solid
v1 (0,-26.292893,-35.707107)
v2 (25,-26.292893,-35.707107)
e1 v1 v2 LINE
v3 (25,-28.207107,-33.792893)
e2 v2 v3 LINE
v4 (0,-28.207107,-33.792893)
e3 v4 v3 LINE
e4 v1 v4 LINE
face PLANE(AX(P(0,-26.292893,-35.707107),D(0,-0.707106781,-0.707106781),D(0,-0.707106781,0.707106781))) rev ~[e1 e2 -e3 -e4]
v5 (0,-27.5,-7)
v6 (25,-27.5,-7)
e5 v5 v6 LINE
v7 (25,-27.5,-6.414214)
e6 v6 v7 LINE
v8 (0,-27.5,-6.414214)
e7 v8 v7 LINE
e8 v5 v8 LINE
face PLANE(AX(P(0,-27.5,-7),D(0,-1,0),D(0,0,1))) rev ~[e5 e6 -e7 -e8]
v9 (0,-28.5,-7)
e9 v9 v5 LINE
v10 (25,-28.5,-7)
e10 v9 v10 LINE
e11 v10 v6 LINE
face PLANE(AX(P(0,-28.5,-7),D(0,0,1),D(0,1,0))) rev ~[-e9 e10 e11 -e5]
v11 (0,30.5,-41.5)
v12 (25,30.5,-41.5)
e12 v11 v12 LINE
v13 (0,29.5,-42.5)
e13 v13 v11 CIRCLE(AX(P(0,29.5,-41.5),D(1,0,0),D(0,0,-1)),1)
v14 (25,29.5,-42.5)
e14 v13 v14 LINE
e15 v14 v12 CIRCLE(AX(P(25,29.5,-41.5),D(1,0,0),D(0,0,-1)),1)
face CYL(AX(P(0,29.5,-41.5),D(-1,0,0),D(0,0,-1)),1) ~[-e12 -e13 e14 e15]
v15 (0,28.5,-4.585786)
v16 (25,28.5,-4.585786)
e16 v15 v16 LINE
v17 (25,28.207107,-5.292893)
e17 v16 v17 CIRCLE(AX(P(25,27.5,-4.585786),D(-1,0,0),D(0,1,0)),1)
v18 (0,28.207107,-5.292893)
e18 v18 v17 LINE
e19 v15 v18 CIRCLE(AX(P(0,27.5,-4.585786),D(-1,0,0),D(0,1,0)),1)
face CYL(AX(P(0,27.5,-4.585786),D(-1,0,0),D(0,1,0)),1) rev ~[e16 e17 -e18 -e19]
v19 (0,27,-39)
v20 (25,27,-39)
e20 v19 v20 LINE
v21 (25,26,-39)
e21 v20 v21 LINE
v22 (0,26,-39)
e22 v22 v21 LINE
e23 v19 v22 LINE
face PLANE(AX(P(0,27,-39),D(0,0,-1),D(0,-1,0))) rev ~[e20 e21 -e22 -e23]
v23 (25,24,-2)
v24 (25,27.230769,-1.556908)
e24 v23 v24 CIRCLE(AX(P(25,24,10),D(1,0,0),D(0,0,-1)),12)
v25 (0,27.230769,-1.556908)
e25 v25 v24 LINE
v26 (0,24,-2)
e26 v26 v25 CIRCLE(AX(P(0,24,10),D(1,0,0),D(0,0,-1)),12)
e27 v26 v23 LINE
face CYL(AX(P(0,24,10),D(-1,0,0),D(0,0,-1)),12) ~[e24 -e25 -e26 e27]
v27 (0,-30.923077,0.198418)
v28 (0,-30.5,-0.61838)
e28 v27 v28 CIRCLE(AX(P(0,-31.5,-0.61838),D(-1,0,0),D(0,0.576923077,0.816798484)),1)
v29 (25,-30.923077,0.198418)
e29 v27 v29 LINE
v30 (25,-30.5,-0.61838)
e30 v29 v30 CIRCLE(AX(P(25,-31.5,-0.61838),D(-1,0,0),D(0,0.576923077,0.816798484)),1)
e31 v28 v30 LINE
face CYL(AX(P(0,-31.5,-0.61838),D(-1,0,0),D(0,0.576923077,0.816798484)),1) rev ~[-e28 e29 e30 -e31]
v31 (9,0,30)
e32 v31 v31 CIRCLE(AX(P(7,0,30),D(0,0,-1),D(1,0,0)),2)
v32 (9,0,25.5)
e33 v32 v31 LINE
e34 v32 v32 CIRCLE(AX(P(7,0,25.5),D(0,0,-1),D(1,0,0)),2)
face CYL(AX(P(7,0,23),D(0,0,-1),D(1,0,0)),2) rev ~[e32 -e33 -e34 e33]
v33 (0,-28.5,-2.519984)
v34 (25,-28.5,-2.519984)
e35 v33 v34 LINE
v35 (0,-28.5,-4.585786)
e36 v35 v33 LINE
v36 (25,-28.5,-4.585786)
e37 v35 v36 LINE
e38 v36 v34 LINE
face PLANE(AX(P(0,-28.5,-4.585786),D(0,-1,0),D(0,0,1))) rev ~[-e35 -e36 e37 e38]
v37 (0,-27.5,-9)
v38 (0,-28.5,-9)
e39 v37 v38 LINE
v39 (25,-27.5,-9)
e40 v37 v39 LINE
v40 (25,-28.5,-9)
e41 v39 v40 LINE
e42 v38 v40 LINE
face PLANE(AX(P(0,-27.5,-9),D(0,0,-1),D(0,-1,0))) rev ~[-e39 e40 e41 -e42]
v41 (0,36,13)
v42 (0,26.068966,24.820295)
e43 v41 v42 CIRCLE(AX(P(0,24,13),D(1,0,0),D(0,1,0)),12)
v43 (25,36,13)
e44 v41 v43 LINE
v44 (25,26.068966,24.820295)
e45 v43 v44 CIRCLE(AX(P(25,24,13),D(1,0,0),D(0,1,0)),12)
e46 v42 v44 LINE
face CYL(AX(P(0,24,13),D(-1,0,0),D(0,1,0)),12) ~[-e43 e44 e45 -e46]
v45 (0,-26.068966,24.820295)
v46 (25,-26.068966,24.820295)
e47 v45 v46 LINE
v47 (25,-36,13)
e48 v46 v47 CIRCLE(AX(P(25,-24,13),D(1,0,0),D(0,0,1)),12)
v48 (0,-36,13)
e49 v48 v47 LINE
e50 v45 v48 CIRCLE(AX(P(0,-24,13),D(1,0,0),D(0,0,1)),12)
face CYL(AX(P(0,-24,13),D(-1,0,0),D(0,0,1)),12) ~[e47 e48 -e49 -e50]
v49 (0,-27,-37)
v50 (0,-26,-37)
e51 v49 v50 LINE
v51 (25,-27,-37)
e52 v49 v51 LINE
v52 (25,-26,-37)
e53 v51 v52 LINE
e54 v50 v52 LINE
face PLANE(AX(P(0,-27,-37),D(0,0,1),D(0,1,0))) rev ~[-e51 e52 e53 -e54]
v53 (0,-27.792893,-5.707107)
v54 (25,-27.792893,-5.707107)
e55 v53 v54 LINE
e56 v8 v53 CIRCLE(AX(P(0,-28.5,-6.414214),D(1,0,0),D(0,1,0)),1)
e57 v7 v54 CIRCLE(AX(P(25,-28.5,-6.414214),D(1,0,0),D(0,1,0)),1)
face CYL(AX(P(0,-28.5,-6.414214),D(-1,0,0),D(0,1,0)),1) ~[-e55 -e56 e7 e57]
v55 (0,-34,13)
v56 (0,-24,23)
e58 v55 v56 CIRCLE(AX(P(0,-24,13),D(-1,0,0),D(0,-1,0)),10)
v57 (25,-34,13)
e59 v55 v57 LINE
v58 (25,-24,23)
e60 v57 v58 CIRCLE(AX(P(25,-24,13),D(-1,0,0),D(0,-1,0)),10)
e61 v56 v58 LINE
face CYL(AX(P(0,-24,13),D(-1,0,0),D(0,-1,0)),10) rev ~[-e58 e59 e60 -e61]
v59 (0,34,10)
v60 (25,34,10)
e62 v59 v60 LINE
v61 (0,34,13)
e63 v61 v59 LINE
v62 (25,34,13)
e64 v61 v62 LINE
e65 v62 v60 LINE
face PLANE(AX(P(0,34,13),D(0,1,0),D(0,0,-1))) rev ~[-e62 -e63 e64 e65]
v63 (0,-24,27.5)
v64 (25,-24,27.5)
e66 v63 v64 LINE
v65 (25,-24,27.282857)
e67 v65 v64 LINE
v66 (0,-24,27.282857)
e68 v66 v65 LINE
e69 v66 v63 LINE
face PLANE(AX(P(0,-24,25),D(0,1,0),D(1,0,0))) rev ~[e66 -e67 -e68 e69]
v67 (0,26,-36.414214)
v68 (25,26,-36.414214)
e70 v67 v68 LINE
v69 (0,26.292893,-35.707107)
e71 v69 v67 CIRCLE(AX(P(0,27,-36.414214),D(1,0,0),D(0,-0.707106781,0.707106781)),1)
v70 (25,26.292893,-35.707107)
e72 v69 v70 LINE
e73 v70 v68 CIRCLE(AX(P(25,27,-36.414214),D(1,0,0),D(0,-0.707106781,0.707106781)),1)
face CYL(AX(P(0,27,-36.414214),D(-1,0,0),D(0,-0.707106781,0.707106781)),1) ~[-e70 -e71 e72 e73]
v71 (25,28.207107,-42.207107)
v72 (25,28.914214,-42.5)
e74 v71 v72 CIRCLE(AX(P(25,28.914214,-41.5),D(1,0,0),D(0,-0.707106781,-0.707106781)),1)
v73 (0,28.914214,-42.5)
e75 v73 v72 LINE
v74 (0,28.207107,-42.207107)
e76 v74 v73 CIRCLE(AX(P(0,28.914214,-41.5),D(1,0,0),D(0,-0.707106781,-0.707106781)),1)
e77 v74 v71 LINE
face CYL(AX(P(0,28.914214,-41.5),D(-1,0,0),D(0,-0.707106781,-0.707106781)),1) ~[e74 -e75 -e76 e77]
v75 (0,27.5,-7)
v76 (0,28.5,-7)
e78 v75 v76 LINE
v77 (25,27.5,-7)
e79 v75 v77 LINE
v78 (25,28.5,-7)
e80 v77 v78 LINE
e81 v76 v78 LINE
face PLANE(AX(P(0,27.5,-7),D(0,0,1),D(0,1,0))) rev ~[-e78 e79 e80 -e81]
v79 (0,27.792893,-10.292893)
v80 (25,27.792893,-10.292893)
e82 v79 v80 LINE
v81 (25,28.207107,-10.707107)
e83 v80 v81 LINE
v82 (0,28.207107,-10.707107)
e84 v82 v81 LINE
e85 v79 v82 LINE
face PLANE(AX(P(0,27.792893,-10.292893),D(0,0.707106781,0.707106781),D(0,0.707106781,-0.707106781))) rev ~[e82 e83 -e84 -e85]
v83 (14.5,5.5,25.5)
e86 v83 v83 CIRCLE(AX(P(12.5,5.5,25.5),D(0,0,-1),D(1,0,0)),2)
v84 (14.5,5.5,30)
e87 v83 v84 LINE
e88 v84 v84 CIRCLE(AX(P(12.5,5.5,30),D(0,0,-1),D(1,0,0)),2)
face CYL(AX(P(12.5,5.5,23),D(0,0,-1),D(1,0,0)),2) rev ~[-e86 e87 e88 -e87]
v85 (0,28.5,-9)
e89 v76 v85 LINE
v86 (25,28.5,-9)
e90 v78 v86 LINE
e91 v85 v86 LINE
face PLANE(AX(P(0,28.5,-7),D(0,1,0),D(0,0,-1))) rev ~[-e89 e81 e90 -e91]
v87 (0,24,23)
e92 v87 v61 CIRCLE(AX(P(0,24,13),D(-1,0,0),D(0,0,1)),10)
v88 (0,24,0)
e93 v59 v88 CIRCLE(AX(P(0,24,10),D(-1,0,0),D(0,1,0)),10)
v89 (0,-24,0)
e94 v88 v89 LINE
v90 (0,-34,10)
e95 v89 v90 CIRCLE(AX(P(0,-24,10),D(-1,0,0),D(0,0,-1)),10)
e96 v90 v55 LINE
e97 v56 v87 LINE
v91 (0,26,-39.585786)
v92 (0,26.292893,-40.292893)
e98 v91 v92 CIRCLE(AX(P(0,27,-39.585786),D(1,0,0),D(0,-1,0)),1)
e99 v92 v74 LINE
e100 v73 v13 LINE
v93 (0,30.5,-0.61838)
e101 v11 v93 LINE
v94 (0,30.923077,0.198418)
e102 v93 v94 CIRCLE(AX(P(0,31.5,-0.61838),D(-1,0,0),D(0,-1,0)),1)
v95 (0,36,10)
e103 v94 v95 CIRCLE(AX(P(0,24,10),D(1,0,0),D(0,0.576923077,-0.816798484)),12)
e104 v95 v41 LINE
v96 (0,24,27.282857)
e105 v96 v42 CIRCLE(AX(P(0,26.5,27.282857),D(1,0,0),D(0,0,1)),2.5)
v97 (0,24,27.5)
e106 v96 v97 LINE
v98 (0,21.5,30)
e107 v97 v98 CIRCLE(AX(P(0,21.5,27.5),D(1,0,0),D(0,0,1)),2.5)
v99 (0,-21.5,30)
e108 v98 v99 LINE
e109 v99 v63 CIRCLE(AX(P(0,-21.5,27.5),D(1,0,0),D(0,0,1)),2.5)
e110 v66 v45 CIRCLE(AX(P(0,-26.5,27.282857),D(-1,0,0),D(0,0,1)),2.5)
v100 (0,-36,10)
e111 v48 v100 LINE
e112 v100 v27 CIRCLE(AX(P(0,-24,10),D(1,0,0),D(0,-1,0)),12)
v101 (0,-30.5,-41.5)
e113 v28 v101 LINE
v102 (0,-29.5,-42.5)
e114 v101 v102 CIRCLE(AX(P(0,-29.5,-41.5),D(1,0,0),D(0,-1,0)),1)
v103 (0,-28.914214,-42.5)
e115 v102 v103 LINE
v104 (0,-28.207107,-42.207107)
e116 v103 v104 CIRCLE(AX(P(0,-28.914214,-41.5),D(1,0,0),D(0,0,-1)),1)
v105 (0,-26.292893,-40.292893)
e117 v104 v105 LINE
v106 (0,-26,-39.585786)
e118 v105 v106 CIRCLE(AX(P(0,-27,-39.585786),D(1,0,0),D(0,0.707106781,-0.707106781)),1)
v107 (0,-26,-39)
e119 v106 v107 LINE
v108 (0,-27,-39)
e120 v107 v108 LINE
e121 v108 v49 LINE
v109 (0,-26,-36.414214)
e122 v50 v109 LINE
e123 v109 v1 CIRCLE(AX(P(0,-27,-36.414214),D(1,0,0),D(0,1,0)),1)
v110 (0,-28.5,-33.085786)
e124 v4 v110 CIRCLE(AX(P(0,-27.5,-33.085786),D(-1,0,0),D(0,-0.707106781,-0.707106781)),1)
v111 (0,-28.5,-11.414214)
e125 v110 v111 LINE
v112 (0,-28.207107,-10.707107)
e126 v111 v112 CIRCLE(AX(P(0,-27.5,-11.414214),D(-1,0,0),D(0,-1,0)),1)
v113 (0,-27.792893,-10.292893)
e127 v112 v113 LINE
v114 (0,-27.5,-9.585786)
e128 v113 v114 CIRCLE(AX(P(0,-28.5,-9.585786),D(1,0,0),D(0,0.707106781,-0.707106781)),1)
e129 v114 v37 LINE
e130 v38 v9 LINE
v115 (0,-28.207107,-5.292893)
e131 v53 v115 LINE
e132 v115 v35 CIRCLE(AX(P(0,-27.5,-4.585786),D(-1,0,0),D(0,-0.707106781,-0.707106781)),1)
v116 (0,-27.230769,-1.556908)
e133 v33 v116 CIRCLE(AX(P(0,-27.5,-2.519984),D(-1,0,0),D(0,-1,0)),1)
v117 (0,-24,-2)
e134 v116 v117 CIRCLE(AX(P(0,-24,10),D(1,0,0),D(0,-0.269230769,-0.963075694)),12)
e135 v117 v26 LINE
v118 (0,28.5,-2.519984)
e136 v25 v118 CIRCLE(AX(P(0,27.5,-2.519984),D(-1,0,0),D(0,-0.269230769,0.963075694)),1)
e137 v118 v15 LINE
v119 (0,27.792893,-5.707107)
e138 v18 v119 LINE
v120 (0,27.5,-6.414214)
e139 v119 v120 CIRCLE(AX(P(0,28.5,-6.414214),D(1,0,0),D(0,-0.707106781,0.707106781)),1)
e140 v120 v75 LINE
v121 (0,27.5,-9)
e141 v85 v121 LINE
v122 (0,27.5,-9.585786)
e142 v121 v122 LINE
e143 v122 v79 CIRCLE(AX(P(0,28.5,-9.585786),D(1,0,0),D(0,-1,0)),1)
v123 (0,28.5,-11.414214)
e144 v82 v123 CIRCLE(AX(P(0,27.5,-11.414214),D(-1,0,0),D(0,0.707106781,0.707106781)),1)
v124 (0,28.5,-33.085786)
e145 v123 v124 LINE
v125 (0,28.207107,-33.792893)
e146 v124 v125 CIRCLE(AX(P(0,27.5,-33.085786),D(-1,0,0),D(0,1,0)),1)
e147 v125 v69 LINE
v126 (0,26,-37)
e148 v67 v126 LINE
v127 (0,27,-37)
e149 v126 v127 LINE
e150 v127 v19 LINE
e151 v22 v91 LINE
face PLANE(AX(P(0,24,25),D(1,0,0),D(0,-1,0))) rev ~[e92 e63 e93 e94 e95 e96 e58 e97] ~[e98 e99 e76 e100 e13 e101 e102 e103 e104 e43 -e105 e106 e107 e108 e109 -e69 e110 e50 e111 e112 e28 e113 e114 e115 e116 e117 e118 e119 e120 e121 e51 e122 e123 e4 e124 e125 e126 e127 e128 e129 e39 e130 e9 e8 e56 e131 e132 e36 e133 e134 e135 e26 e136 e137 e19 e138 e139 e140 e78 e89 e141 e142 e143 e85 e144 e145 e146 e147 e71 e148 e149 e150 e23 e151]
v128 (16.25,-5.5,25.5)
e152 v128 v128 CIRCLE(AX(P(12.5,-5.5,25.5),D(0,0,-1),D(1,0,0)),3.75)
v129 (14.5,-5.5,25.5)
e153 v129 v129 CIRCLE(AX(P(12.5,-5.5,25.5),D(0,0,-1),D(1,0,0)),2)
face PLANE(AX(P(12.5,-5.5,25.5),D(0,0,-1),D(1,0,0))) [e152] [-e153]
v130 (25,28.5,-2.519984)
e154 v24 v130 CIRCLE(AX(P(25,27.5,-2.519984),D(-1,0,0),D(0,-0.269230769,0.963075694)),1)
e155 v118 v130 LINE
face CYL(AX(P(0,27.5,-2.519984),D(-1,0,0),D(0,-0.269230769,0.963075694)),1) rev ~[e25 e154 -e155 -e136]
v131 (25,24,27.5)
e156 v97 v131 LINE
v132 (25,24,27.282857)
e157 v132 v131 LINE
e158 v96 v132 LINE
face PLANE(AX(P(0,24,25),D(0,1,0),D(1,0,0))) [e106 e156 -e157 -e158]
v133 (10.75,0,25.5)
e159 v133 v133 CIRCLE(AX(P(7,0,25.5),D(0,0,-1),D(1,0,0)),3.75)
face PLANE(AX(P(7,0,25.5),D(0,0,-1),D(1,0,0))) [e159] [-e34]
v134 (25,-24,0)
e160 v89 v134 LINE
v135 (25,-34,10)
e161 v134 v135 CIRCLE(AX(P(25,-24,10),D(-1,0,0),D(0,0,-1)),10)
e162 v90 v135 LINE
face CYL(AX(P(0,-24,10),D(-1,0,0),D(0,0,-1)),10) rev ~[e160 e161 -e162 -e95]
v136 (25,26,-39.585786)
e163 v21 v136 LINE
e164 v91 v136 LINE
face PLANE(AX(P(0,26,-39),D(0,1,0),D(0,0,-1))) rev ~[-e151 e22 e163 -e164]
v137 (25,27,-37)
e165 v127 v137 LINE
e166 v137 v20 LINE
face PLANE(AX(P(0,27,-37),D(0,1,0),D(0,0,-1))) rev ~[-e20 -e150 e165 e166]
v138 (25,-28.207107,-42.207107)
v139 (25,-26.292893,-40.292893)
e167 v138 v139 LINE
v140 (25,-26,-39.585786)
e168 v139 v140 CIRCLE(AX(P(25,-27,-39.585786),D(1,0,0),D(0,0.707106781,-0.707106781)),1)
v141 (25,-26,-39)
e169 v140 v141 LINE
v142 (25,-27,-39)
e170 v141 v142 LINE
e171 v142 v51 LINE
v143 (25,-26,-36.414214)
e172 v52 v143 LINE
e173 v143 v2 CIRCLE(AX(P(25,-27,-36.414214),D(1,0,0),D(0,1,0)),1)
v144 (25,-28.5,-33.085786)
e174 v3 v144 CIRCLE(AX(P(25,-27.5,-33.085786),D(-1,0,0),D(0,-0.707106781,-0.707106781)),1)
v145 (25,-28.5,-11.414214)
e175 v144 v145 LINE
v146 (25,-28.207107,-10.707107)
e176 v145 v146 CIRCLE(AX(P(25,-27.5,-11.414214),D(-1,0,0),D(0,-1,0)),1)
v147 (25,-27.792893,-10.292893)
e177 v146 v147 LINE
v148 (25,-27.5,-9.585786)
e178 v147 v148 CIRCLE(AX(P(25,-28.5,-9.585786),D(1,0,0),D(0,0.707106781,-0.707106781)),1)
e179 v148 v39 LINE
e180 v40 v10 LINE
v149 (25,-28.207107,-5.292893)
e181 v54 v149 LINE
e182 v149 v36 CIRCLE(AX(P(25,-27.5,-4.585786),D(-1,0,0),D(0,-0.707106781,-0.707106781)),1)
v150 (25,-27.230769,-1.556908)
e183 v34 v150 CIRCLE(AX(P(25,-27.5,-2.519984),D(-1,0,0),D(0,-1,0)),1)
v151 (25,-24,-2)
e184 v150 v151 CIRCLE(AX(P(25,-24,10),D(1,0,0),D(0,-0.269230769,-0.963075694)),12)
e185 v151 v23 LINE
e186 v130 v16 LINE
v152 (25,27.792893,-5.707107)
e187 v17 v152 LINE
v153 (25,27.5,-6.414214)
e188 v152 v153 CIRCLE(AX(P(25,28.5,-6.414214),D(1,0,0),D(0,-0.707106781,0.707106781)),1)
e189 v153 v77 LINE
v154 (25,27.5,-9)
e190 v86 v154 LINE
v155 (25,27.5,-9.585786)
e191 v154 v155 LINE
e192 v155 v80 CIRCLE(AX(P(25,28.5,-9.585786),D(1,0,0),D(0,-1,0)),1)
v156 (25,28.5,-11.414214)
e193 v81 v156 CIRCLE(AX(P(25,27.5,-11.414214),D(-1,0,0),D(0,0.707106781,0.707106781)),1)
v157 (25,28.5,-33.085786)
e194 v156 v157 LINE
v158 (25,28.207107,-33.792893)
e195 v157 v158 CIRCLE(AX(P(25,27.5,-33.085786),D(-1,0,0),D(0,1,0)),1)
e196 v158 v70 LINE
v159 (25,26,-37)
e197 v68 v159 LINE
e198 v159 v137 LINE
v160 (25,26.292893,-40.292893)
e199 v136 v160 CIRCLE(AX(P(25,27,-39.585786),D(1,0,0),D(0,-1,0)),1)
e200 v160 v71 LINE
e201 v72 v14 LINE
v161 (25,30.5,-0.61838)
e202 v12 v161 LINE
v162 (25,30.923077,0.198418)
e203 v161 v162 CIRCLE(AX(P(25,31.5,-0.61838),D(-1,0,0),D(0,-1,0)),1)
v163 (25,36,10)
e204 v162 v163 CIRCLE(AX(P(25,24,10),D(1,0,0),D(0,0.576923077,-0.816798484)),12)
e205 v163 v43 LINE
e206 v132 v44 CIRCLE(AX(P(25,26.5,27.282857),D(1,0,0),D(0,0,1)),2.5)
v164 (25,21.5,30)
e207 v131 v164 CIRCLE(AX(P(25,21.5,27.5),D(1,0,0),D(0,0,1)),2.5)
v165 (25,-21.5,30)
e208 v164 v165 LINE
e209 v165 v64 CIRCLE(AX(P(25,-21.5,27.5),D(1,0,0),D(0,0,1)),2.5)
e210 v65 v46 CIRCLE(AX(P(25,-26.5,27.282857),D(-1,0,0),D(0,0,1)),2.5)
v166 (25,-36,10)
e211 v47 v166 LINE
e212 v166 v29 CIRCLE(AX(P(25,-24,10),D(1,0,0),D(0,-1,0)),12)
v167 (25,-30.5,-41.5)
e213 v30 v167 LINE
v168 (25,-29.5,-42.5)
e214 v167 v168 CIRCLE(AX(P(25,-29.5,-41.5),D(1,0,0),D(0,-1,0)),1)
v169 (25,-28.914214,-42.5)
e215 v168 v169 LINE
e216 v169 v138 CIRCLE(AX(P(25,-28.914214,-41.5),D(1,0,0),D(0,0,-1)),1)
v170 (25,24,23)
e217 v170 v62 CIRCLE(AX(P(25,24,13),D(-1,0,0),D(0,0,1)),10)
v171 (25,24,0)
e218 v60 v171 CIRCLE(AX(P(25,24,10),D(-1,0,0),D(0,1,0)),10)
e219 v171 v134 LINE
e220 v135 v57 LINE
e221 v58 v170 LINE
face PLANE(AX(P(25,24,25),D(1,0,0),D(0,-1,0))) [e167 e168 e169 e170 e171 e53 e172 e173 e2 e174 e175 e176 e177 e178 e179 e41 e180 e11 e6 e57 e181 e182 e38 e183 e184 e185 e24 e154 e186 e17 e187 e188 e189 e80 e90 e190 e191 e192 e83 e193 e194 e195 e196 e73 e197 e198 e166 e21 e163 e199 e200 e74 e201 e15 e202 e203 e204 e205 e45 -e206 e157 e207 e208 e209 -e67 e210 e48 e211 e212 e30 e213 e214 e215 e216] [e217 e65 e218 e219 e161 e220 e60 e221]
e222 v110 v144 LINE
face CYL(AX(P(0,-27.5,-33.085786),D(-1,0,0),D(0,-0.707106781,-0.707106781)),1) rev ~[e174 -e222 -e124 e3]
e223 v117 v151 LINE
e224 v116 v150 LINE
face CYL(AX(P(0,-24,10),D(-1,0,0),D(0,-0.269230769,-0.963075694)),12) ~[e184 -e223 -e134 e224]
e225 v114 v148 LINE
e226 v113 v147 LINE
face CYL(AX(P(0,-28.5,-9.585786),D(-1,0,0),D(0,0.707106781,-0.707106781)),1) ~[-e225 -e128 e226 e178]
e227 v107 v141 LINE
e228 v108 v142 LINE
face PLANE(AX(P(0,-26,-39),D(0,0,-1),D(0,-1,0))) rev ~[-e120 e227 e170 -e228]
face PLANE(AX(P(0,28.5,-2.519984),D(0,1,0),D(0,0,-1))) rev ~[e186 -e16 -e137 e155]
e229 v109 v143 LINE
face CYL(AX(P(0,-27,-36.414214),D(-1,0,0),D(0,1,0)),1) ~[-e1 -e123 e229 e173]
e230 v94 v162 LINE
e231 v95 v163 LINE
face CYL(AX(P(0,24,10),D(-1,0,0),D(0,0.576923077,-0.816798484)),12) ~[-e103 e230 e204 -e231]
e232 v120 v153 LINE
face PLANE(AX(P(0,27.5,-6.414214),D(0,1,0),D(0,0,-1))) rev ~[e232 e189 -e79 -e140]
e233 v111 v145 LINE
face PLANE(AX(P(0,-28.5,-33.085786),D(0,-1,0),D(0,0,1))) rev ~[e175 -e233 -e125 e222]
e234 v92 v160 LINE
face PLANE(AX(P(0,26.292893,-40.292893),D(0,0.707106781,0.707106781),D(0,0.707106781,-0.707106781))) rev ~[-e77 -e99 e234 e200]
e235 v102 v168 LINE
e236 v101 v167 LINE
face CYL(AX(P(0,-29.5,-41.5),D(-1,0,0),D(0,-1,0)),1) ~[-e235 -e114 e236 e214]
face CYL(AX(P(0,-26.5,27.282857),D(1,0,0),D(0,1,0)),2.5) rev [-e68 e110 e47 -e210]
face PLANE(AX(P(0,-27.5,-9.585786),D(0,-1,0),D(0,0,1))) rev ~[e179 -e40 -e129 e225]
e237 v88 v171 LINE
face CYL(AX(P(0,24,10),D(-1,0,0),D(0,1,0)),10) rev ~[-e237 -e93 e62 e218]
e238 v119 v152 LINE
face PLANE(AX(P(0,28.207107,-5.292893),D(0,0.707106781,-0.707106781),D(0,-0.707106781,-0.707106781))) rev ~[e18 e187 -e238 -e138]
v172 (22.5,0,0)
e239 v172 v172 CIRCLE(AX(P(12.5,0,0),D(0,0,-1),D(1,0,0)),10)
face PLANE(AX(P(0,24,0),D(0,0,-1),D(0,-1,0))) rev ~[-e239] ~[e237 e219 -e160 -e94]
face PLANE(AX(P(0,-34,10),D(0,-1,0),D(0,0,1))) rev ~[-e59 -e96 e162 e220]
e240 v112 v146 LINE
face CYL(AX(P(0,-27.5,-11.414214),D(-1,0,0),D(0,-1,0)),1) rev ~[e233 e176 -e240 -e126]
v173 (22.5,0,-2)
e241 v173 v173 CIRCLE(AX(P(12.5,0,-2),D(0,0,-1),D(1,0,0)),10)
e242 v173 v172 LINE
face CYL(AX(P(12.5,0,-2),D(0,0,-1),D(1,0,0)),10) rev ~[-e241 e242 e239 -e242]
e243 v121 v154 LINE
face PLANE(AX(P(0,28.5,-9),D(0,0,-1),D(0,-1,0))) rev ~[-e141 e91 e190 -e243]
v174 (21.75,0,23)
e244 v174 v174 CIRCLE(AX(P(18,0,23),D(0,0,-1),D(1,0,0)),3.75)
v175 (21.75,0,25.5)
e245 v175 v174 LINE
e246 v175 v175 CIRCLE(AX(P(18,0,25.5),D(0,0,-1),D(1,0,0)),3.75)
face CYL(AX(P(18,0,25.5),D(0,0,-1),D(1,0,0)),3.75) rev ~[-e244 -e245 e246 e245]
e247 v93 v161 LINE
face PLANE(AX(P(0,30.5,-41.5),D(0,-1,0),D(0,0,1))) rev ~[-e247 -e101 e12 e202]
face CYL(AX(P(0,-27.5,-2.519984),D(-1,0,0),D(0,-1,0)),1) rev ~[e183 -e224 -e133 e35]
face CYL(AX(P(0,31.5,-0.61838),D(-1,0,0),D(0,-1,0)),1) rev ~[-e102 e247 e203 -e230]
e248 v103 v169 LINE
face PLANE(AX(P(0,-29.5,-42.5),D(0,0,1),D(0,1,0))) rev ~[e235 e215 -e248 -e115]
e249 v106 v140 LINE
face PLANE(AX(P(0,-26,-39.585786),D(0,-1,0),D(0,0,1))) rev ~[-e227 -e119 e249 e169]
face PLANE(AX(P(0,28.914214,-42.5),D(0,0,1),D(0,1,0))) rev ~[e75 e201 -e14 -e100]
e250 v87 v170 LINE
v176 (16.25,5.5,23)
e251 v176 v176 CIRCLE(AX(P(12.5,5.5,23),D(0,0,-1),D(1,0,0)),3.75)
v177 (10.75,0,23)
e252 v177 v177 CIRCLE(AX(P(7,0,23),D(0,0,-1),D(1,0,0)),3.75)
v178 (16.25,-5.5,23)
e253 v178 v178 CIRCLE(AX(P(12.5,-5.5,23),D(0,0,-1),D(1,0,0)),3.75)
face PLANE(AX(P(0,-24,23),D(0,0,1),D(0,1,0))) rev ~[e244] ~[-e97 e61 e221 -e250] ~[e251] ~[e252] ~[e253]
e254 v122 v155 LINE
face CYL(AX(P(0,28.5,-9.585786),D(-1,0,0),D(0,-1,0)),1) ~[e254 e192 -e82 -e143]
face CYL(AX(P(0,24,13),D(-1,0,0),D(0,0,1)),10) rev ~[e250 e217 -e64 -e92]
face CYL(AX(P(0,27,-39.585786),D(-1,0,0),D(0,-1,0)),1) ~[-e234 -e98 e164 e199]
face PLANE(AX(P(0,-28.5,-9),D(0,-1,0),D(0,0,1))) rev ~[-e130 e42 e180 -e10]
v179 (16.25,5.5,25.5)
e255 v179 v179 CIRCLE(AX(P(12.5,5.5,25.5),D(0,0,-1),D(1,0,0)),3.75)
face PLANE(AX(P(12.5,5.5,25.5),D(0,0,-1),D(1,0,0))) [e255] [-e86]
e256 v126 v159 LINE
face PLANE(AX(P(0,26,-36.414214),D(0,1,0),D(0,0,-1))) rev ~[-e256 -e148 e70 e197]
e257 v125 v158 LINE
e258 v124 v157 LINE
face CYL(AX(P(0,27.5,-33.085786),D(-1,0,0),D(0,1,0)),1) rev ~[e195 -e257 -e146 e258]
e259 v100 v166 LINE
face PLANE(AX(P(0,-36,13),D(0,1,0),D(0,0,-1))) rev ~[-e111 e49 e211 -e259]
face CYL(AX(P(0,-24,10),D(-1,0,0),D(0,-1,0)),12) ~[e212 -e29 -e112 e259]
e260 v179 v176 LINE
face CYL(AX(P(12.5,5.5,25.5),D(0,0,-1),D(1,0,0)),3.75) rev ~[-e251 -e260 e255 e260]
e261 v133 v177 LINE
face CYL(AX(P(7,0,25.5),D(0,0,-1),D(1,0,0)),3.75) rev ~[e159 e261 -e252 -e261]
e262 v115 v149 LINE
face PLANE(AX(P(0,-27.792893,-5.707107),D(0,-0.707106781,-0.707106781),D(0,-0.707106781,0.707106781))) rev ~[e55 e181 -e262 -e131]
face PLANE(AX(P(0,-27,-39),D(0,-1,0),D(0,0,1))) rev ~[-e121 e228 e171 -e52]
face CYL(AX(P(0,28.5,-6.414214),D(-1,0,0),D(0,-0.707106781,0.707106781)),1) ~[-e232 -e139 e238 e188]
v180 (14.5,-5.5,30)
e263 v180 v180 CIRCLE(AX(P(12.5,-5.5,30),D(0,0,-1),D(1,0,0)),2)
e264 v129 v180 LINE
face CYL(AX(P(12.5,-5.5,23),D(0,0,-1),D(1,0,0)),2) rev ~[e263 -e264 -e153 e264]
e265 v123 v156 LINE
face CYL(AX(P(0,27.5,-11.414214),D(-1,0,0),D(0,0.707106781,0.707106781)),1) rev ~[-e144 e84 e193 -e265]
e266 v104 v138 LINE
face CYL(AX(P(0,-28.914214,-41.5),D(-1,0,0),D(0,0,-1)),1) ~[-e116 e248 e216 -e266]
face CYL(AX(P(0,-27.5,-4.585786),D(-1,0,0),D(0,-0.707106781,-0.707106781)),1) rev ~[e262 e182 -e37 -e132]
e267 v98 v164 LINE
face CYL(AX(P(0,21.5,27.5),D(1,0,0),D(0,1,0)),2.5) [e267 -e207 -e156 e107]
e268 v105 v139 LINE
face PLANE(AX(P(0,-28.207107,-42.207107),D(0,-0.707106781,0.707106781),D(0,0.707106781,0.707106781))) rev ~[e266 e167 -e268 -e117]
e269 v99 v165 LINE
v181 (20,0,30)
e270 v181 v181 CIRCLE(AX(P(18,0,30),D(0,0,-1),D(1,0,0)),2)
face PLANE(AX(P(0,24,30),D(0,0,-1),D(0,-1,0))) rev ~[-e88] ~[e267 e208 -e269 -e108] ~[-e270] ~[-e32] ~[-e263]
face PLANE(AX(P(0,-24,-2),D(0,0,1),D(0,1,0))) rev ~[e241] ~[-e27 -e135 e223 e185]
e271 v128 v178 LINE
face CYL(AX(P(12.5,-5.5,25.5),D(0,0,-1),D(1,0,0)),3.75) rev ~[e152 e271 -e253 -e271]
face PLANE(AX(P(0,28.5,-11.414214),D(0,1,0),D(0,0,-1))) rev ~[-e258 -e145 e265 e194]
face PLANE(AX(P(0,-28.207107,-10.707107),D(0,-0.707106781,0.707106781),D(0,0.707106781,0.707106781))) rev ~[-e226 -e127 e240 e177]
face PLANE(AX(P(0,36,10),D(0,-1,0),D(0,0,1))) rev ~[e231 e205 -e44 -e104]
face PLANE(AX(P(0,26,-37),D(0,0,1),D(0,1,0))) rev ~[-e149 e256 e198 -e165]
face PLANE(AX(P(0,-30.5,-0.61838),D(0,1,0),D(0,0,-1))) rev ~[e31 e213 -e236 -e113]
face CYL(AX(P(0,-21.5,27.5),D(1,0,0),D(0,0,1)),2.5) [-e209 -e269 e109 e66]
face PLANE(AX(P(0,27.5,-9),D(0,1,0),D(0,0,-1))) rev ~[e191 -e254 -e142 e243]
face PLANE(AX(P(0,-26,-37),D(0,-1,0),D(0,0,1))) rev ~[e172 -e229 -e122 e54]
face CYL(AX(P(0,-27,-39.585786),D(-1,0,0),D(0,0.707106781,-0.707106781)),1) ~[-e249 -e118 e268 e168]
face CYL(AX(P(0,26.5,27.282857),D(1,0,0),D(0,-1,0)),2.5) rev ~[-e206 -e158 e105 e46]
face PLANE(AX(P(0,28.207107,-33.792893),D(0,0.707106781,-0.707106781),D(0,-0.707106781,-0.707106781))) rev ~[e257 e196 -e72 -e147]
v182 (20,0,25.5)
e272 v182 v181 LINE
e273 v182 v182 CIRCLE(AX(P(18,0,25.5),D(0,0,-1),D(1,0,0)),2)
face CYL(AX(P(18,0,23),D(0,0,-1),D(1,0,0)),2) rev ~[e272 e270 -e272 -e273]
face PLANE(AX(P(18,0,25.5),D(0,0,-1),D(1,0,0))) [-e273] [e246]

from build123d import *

# Parameters (mm, degrees)
F1_DEPTH       = 25
F3_DEPTH       = 5
F2_R           = 2
F4_DEPTH       = 7.001
F6_D           = 4
F6_CBORE_D     = 7.5
F6_CBORE_DEPTH = 2.5
F7_R           = 10
F8_DEPTH       = 2
F9_R           = 2.5


with BuildPart() as f1:
    # F0 (on Right) → F1 (new body)
    with BuildSketch(Plane.YZ):
        with BuildLine():
            Line((24, 25), (-24, 25))
            ThreePointArc((-24, 25), (-32.4852813742, 21.4852813742), (-36, 13))
            Line((-36, 13), (-36, 10))
            ThreePointArc((-36, 10), (-34.6554428129, 4.480802734), (-30.9230769231, 0.1984181931))
            ThreePointArc((-30.9230769231, 0.1984181931), (-30.6120464323, -0.1584471853), (-30.5, -0.6183802908))
            Line((-30.5, -0.6183802908), (-30.5, -41.5))
            ThreePointArc((-30.5, -41.5), (-30.2071067812, -42.2071067812), (-29.5, -42.5))
            Line((-29.5, -42.5), (-28.9142135624, -42.5))
            ThreePointArc((-28.9142135624, -42.5), (-28.53153013, -42.4238795325), (-28.2071067812, -42.2071067812))
            Line((-28.2071067812, -42.2071067812), (-26.2928932188, -40.2928932188))
            ThreePointArc((-26.2928932188, -40.2928932188), (-26.0761204675, -39.96846987), (-26, -39.5857864376))
            Line((-26, -39.5857864376), (-26, -39))
            Line((-26, -39), (-27, -39))
            Line((-27, -39), (-27, -37))
            Line((-27, -37), (-26, -37))
            Line((-26, -37), (-26, -36.4142135624))
            ThreePointArc((-26, -36.4142135624), (-26.0761204675, -36.03153013), (-26.2928932188, -35.7071067812))
            Line((-26.2928932188, -35.7071067812), (-28.2071067812, -33.7928932188))
            ThreePointArc((-28.2071067812, -33.7928932188), (-28.4238795325, -33.46846987), (-28.5, -33.0857864376))
            Line((-28.5, -33.0857864376), (-28.5, -11.4142135624))
            ThreePointArc((-28.5, -11.4142135624), (-28.4238795325, -11.03153013), (-28.2071067812, -10.7071067812))
            Line((-28.2071067812, -10.7071067812), (-27.7928932188, -10.2928932188))
            ThreePointArc((-27.7928932188, -10.2928932188), (-27.5761204675, -9.96846987), (-27.5, -9.5857864376))
            Line((-27.5, -9.5857864376), (-27.5, -9))
            Line((-27.5, -9), (-28.5, -9))
            Line((-28.5, -9), (-28.5, -7))
            Line((-28.5, -7), (-27.5, -7))
            Line((-27.5, -7), (-27.5, -6.4142135624))
            ThreePointArc((-27.5, -6.4142135624), (-27.5761204675, -6.03153013), (-27.7928932188, -5.7071067812))
            Line((-27.7928932188, -5.7071067812), (-28.2071067812, -5.2928932188))
            ThreePointArc((-28.2071067812, -5.2928932188), (-28.4238795325, -4.96846987), (-28.5, -4.5857864376))
            Line((-28.5, -4.5857864376), (-28.5, -2.5199840255))
            ThreePointArc((-28.5, -2.5199840255), (-28.1044705248, -1.7233565187), (-27.2307692308, -1.5569083313))
            ThreePointArc((-27.2307692308, -1.5569083313), (-25.6305060602, -1.8887110314), (-24, -2))
            Line((-24, -2), (24, -2))
            ThreePointArc((24, -2), (25.6305060602, -1.8887110314), (27.2307692308, -1.5569083313))
            ThreePointArc((27.2307692308, -1.5569083313), (28.1044705248, -1.7233565187), (28.5, -2.5199840255))
            Line((28.5, -2.5199840255), (28.5, -4.5857864376))
            ThreePointArc((28.5, -4.5857864376), (28.4238795325, -4.96846987), (28.2071067812, -5.2928932188))
            Line((28.2071067812, -5.2928932188), (27.7928932188, -5.7071067812))
            ThreePointArc((27.7928932188, -5.7071067812), (27.5761204675, -6.03153013), (27.5, -6.4142135624))
            Line((27.5, -6.4142135624), (27.5, -7))
            Line((27.5, -7), (28.5, -7))
            Line((28.5, -7), (28.5, -9))
            Line((28.5, -9), (27.5, -9))
            Line((27.5, -9), (27.5, -9.5857864376))
            ThreePointArc((27.5, -9.5857864376), (27.5761204675, -9.96846987), (27.7928932188, -10.2928932188))
            Line((27.7928932188, -10.2928932188), (28.2071067812, -10.7071067812))
            ThreePointArc((28.2071067812, -10.7071067812), (28.4238795325, -11.03153013), (28.5, -11.4142135624))
            Line((28.5, -11.4142135624), (28.5, -33.0857864376))
            ThreePointArc((28.5, -33.0857864376), (28.4238795325, -33.46846987), (28.2071067812, -33.7928932188))
            Line((28.2071067812, -33.7928932188), (26.2928932188, -35.7071067812))
            ThreePointArc((26.2928932188, -35.7071067812), (26.0761204675, -36.03153013), (26, -36.4142135624))
            Line((26, -36.4142135624), (26, -37))
            Line((26, -37), (27, -37))
            Line((27, -37), (27, -39))
            Line((27, -39), (26, -39))
            Line((26, -39), (26, -39.5857864376))
            ThreePointArc((26, -39.5857864376), (26.0761204675, -39.96846987), (26.2928932188, -40.2928932188))
            Line((26.2928932188, -40.2928932188), (28.2071067812, -42.2071067812))
            ThreePointArc((28.2071067812, -42.2071067812), (28.53153013, -42.4238795325), (28.9142135624, -42.5))
            Line((28.9142135624, -42.5), (29.5, -42.5))
            ThreePointArc((29.5, -42.5), (30.2071067812, -42.2071067812), (30.5, -41.5))
            Line((30.5, -41.5), (30.5, -0.6183802908))
            ThreePointArc((30.5, -0.6183802908), (30.6120464323, -0.1584471853), (30.9230769231, 0.1984181931))
            ThreePointArc((30.9230769231, 0.1984181931), (34.6554428129, 4.480802734), (36, 10))
            Line((36, 10), (36, 13))
            ThreePointArc((36, 13), (32.4852813742, 21.4852813742), (24, 25))
        make_face()
        with BuildLine():
            Line((24, 0), (-24, 0))
            ThreePointArc((-24, 0), (-31.0710678119, 2.9289321881), (-34, 10))
            Line((-34, 10), (-34, 13))
            ThreePointArc((-34, 13), (-31.0710678119, 20.0710678119), (-24, 23))
            Line((-24, 23), (24, 23))
            ThreePointArc((24, 23), (31.0710678119, 20.0710678119), (34, 13))
            Line((34, 13), (34, 10))
            ThreePointArc((34, 10), (31.0710678119, 2.9289321881), (24, 0))
        make_face(mode=Mode.SUBTRACT)
    extrude(amount=F1_DEPTH)

    # F3 (add): a face of the model
    f3_faces = [f1.faces().sort_by_distance(p)[0] for p in [
        (12.5, 0, 25),
    ]]
    extrude(f3_faces, amount=F3_DEPTH)

    # F2 (on face) → F4 (cut, through all)
    with BuildSketch(Plane(origin=(0, 0, 23), x_dir=(1, 0, 0), z_dir=(0, 0, -1))):
        with Locations((7, 0)):
            Circle(F2_R)
        with Locations((12.5, -5.5)):
            Circle(F2_R)
        with Locations((18, 0)):
            Circle(F2_R)
        with Locations((12.5, 5.5)):
            Circle(F2_R)
    extrude(amount=-F4_DEPTH, mode=Mode.SUBTRACT)

    # F6 (through all)
    with Locations(Plane(origin=(0, 0, 23), x_dir=(1, 0, 0), z_dir=(0, 0, -1))):
        with Locations((12.5, -5.5), (7, 0), (18, 0), (12.5, 5.5)):
            CounterBoreHole(F6_D / 2, F6_CBORE_D / 2, F6_CBORE_DEPTH)

    # F7 (on face) → F8 (cut, through all)
    with BuildSketch(Plane(origin=(0, 0, -2), x_dir=(1, 0, 0), z_dir=(0, 0, -1))):
        with Locations((12.5, 0)):
            Circle(F7_R)
    extrude(amount=-F8_DEPTH, mode=Mode.SUBTRACT)

    # F9
    f9_edges = [f1.edges().sort_by_distance(p)[0] for p in [
        (12.5, -24, 25),
        (12.5, 24, 25),
        (12.5, 24, 30),
        (12.5, -24, 30),
    ]]
    fillet(f9_edges, radius=F9_R)


solid = f1.part
